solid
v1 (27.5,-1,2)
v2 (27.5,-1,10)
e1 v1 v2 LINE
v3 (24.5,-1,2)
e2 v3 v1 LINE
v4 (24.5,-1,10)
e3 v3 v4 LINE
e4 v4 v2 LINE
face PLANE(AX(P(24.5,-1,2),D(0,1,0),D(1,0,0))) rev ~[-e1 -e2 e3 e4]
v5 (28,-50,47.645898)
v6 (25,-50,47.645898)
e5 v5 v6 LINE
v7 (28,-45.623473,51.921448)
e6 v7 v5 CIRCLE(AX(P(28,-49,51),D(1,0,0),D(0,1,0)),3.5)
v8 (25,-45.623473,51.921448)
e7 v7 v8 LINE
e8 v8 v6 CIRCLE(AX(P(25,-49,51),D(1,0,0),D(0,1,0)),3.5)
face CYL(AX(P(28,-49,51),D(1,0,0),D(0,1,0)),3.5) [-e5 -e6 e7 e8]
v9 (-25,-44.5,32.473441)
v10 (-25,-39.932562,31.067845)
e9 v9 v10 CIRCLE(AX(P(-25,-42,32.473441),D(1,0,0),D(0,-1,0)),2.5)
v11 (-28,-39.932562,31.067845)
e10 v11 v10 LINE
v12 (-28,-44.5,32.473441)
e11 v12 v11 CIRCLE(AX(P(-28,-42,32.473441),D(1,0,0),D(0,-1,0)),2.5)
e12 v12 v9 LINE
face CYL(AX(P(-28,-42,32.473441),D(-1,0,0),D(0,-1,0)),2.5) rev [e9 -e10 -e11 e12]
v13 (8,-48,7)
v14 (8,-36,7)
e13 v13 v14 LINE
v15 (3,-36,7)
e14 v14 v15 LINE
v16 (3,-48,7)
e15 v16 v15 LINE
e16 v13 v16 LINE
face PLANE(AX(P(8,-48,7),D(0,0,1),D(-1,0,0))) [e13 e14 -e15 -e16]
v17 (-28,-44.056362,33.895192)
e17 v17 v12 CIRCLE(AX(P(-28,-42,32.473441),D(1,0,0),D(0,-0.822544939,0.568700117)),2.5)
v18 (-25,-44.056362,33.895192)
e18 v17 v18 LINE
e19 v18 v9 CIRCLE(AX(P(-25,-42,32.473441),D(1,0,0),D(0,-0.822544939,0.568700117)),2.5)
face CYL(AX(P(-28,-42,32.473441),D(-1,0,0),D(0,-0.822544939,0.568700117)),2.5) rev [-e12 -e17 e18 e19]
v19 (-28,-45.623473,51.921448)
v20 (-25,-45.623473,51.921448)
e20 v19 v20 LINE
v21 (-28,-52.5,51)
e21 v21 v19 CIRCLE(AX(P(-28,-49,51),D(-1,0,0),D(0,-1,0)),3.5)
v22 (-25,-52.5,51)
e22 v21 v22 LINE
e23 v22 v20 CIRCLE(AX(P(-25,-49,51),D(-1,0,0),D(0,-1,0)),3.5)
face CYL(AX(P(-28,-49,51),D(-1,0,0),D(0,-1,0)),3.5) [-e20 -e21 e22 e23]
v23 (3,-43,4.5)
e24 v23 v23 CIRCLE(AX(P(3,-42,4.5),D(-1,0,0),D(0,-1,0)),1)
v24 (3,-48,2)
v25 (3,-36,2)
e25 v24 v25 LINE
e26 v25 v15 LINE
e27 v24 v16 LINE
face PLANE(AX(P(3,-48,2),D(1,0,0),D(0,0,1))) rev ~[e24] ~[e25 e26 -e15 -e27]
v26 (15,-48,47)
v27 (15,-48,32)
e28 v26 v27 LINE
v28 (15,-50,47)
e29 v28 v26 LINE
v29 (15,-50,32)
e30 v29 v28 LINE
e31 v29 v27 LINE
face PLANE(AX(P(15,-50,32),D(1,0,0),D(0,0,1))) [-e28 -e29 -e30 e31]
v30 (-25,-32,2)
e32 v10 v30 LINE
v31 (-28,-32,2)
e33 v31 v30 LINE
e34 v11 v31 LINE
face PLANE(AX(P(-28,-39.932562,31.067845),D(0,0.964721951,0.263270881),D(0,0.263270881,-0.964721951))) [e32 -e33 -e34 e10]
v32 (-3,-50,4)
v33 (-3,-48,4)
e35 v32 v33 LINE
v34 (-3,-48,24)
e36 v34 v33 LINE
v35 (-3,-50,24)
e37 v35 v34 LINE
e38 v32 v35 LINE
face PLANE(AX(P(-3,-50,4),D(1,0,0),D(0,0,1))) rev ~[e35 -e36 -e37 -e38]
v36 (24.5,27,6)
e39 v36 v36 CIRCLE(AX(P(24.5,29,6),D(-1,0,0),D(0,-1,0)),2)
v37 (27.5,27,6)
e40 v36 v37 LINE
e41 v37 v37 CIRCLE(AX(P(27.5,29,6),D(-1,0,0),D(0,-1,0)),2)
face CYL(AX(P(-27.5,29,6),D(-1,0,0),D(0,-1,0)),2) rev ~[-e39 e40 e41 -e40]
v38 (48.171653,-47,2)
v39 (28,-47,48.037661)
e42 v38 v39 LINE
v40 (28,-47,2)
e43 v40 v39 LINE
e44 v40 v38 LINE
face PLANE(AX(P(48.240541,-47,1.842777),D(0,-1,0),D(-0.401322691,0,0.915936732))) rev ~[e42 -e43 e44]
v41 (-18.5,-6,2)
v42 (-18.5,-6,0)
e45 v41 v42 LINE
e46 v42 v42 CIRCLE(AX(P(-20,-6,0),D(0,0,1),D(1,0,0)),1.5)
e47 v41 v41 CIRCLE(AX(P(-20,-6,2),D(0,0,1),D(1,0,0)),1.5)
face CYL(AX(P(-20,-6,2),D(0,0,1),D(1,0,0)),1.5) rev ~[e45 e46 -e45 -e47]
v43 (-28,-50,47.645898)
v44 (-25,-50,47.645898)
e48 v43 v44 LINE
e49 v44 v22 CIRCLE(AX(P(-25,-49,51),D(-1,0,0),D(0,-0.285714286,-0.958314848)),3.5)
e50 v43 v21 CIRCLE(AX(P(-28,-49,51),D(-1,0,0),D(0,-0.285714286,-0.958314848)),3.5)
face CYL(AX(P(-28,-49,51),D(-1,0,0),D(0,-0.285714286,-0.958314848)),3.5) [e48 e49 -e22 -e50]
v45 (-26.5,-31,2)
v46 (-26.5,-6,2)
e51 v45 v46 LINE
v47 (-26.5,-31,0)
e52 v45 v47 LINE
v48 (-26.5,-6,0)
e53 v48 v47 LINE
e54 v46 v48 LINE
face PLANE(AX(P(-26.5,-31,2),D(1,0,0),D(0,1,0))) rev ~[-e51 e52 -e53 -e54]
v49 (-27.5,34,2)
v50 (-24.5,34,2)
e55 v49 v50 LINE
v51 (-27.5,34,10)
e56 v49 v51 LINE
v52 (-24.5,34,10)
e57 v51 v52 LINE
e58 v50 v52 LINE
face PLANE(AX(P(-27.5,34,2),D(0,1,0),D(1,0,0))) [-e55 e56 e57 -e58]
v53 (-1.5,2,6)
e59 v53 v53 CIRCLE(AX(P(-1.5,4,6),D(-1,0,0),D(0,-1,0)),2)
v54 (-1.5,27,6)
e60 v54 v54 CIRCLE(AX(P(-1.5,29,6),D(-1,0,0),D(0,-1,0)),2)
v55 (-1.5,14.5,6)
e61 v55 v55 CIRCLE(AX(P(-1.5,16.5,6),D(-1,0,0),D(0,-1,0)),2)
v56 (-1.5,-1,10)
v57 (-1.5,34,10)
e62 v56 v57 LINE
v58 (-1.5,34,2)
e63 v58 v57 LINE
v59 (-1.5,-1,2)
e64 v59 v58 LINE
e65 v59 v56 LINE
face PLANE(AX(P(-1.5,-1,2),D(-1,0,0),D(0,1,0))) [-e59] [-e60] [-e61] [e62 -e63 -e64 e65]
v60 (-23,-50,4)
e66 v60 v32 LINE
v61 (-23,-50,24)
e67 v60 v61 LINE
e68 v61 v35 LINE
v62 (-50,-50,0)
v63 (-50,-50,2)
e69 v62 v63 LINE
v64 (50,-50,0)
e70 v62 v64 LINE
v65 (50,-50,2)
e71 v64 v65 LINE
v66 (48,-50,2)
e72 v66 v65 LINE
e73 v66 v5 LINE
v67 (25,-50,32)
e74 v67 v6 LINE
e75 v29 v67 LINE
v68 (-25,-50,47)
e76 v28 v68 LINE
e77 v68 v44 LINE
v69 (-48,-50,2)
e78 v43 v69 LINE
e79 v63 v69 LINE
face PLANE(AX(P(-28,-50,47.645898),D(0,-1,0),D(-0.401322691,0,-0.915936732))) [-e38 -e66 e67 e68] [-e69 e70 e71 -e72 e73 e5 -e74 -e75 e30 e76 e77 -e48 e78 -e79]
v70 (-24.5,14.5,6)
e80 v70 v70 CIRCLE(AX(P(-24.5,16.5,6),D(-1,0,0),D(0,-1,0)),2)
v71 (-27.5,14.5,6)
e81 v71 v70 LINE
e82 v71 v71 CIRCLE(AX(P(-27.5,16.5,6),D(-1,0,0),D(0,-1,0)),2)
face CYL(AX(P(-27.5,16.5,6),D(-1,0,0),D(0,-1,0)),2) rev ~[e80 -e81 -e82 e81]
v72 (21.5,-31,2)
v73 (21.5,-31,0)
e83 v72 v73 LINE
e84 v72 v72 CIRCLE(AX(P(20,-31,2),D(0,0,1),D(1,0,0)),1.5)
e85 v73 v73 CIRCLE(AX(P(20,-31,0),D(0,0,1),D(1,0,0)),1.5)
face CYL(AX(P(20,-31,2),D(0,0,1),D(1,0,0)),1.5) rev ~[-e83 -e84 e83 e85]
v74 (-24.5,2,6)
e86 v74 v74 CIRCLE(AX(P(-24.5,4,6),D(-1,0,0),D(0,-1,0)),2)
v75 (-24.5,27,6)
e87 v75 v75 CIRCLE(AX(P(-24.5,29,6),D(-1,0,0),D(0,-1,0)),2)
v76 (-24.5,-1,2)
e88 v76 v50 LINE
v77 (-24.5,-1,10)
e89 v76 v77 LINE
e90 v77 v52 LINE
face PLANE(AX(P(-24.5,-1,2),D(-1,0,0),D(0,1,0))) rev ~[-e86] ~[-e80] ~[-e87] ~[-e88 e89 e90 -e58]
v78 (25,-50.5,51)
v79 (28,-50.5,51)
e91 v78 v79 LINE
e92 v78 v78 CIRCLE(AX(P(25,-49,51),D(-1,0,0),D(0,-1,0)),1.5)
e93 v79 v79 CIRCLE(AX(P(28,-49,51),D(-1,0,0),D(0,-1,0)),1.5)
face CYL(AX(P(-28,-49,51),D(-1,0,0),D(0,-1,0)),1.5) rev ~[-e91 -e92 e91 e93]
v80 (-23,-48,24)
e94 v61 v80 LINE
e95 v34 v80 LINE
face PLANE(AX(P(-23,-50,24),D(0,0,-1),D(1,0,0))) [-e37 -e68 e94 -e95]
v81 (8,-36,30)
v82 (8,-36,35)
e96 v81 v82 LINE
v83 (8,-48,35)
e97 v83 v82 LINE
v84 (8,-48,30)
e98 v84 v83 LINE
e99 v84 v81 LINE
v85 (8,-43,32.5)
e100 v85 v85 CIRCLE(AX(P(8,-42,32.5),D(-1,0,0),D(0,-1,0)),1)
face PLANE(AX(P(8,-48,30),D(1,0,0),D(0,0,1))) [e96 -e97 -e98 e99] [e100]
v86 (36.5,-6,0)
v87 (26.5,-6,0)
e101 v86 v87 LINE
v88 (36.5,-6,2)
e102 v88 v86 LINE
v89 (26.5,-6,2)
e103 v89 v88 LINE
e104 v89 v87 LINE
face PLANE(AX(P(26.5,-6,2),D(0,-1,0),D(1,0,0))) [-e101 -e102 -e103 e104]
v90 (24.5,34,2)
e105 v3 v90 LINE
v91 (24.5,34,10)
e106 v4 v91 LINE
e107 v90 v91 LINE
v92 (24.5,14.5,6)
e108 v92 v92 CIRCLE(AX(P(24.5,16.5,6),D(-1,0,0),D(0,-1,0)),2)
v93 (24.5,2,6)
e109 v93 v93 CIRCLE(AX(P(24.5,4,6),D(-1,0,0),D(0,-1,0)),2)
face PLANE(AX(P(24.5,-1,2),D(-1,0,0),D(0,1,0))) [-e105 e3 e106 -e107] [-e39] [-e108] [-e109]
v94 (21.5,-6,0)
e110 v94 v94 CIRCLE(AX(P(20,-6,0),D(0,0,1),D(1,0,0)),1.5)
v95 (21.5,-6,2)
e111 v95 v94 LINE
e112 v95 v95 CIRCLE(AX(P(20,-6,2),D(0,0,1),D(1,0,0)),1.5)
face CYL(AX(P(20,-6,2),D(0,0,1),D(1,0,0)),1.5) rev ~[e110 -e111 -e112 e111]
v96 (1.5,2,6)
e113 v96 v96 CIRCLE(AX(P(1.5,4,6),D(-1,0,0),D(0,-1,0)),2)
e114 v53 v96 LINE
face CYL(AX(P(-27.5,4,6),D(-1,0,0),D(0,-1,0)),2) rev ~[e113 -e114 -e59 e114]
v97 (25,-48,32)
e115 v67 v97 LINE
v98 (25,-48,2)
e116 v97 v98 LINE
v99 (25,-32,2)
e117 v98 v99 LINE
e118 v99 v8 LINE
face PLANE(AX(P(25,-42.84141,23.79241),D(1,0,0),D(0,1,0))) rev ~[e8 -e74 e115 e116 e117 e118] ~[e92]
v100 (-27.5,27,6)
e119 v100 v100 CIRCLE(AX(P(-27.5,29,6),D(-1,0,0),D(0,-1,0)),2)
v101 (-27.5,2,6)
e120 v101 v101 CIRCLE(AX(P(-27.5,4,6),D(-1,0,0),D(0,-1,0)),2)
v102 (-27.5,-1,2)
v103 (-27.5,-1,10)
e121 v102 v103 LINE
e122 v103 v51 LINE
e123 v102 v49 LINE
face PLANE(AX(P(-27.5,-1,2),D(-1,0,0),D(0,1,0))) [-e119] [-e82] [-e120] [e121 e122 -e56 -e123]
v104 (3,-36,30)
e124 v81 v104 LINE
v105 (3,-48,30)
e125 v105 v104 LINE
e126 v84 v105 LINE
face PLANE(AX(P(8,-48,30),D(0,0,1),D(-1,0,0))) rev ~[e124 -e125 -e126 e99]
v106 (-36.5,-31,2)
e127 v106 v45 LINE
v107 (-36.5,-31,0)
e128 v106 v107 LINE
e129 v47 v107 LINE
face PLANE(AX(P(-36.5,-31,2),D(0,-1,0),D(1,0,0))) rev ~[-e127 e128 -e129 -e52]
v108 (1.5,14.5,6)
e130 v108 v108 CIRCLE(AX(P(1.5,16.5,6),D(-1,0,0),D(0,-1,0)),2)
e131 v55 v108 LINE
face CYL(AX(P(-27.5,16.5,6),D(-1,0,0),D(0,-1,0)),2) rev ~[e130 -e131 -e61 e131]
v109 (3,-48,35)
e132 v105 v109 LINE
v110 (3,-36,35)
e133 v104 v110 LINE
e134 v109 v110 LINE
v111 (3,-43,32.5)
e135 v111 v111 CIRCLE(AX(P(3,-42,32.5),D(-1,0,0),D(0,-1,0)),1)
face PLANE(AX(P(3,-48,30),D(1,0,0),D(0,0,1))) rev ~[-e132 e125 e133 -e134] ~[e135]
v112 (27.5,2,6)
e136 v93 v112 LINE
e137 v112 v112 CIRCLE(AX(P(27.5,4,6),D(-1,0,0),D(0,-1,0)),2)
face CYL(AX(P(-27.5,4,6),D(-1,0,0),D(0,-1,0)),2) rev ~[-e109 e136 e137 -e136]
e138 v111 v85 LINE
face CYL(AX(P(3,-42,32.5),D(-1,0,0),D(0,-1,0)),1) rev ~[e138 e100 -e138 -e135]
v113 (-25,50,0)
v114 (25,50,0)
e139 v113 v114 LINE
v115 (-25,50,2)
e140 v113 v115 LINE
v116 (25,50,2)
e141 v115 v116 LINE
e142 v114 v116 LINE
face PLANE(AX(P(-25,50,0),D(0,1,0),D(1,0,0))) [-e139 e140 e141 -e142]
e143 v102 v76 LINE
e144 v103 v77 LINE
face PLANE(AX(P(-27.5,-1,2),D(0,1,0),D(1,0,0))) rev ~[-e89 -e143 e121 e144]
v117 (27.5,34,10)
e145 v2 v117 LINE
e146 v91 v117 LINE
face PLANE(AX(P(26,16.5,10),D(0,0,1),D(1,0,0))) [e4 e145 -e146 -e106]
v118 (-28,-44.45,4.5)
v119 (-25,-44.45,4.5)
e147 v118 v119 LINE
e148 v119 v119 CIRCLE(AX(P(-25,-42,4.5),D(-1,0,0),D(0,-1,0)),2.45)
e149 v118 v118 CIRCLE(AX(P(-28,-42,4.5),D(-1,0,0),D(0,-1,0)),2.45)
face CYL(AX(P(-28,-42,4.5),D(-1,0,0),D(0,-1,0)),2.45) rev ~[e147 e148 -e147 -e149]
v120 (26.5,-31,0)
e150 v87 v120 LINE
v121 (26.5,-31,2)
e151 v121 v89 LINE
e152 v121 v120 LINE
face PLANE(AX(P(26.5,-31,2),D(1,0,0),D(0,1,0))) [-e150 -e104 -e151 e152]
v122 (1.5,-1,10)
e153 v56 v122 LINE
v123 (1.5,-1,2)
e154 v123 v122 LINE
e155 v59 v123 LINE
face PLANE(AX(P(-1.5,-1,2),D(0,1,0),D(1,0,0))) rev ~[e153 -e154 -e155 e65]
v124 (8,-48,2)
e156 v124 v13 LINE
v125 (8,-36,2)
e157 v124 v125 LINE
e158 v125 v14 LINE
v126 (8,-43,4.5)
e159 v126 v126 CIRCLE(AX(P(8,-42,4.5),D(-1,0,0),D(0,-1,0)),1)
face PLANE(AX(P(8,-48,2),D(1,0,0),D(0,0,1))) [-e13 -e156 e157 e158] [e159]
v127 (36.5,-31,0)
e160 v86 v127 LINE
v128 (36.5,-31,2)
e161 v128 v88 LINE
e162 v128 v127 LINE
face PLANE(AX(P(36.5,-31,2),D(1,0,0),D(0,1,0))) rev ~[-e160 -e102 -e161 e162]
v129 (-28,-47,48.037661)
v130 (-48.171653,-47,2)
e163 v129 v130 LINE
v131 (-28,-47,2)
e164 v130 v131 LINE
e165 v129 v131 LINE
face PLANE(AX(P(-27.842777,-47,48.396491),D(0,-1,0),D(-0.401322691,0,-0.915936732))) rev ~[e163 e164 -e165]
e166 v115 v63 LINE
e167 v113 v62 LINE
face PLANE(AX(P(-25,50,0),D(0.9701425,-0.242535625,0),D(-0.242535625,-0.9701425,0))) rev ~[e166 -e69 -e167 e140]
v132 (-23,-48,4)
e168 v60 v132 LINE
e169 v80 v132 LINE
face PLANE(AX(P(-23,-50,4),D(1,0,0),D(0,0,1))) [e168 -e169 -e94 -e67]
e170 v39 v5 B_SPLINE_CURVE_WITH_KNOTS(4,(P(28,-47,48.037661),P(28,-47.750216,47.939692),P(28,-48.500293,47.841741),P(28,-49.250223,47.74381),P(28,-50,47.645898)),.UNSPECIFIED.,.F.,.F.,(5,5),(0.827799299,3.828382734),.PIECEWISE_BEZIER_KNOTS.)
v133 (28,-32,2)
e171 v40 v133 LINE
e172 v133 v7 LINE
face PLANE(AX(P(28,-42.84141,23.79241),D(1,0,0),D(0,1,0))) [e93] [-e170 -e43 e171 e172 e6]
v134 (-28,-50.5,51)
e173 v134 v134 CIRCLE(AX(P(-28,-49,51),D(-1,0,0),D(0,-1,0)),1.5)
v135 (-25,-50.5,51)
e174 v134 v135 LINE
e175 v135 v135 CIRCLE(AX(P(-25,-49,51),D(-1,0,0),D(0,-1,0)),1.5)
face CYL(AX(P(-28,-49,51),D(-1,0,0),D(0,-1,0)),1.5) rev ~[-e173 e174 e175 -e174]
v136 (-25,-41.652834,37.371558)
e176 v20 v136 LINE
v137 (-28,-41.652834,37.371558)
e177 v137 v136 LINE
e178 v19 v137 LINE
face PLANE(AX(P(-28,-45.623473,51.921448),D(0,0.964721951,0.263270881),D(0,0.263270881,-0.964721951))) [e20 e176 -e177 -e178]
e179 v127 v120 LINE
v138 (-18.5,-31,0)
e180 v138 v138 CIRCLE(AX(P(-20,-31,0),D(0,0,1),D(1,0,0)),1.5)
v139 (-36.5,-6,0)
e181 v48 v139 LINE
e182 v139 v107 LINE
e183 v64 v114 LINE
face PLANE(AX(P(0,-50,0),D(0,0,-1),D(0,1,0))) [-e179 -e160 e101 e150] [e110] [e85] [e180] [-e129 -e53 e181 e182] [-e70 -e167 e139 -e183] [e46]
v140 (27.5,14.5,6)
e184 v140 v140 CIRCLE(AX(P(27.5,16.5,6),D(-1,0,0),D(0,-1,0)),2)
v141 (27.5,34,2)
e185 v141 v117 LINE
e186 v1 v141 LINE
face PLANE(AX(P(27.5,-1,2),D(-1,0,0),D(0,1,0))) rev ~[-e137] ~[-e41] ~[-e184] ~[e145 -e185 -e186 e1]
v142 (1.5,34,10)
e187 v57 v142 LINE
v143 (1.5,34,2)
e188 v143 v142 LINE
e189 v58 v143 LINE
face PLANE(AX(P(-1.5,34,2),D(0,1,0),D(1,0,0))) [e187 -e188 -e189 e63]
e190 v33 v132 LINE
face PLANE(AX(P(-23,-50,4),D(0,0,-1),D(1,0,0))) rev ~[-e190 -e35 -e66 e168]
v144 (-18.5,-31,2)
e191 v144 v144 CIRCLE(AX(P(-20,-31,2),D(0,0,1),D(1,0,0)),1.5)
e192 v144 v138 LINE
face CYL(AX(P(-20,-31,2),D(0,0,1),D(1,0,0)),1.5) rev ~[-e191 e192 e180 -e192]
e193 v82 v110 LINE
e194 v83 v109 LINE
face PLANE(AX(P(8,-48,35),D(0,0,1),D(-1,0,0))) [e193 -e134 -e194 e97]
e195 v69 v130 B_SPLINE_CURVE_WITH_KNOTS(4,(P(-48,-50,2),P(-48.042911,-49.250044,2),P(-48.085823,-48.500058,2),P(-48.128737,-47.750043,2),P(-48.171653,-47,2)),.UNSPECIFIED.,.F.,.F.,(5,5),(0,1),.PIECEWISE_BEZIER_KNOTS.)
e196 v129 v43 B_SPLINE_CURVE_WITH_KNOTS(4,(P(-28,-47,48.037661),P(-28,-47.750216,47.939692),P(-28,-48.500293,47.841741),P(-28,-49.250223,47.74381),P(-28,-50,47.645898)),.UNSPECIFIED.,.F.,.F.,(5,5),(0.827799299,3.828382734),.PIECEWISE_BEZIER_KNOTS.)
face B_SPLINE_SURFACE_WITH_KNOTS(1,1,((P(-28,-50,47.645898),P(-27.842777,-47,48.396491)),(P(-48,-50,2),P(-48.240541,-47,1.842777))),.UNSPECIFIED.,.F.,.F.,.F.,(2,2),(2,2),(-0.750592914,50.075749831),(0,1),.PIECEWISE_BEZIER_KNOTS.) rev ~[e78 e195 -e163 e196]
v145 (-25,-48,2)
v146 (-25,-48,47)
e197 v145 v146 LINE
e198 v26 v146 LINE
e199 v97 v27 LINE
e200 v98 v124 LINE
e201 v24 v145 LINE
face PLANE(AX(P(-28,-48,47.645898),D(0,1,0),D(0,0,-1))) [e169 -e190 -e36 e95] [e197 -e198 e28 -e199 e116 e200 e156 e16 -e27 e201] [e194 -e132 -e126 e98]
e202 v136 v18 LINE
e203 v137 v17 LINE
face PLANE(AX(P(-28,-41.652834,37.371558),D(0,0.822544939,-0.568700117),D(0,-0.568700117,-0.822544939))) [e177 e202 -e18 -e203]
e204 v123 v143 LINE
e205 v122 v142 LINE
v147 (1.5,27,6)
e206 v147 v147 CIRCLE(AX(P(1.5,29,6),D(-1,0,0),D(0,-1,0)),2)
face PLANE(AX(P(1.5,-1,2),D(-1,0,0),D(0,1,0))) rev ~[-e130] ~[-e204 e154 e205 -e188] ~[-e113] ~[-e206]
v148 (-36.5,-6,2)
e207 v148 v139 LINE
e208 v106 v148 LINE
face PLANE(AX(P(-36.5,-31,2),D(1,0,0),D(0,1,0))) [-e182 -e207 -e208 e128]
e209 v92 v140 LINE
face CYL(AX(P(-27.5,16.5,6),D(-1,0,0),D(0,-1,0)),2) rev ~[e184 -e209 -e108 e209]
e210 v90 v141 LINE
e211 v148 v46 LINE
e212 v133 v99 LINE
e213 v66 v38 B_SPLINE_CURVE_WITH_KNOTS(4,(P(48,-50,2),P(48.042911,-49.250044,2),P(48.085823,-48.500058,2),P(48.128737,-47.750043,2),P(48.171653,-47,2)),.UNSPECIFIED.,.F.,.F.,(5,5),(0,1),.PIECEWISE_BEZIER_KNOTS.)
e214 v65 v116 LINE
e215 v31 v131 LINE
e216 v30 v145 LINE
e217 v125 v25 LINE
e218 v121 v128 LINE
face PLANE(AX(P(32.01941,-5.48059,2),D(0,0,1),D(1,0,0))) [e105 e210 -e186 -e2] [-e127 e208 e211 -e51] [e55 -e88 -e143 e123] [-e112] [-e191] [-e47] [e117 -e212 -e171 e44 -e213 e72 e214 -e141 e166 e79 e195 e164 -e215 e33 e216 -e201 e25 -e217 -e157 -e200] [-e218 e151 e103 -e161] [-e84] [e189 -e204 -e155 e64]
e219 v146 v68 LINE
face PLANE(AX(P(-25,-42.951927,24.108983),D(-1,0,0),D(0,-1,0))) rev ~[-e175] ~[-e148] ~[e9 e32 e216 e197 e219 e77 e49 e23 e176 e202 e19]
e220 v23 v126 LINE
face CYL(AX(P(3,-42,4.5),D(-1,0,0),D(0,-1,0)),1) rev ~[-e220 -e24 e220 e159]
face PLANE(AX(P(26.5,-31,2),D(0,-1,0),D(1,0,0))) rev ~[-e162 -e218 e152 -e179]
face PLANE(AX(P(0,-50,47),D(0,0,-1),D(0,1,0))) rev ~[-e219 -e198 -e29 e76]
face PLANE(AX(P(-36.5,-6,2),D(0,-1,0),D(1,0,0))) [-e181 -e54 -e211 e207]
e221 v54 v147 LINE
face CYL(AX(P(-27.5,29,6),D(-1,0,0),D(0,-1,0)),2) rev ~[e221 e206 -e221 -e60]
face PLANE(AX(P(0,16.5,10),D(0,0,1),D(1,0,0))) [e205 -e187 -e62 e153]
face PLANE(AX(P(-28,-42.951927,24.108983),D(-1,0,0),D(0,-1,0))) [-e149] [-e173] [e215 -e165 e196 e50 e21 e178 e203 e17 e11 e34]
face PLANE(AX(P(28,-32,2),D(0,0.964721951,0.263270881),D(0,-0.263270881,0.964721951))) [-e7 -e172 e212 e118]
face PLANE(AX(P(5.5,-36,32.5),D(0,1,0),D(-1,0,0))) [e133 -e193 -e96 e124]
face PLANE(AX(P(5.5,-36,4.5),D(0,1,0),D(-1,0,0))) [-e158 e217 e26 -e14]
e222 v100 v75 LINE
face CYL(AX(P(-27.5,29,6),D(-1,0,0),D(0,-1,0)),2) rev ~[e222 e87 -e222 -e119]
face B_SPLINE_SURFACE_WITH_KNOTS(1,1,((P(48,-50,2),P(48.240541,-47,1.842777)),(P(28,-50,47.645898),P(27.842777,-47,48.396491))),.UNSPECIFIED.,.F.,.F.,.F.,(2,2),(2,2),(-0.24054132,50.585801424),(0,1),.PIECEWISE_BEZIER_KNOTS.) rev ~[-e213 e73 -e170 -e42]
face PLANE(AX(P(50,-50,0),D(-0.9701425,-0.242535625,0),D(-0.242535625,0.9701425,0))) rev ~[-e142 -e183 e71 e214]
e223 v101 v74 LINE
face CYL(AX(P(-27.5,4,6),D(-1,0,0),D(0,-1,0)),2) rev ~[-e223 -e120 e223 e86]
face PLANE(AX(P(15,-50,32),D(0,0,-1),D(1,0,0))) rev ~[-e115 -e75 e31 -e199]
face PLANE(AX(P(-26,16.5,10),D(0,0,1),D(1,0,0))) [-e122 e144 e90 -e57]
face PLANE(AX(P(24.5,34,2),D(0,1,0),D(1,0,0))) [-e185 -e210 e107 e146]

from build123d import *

# Parameters (mm, degrees)
F0_W      = 50
F0_H      = 100
F1_DEPTH  = 2
F2_W      = 2
F2_H      = 47
F3_DEPTH  = 28
F5_DEPTH  = 3
F7_DEPTH  = 3
F8_R      = 1.5
F9_DEPTH  = 60
F10_W     = 5
F10_H     = 5
F11_DEPTH = 12
F12_R     = 1
F13_DEPTH = 25
F14_R     = 1
F15_DEPTH = 25
F16_W     = 10
F16_H     = 15
F16_W_2   = 20
F16_H_2   = 20
F17_DEPTH = 25
F18_R     = 1.5
F18_W     = 10
F18_H     = 25
F19_DEPTH = 25
F20_W     = 3
F20_H     = 35
F21_DEPTH = 8
F22_R     = 2
F23_DEPTH = 100
F25_DEPTH = 3
F25_TAPER = -3
F27_DEPTH = 3
F28_R     = 2.45
F29_DEPTH = 3


with BuildPart() as f1:
    # F0 (on Top) → F1 (new body)
    with BuildSketch(Plane.XY):
        Polygon((25, 50), (25, -50), (50, -50), align=None)
        Polygon((-50, -50), (-25, -50), (-25, 50), align=None)
        Rectangle(F0_W, F0_H)
    extrude(amount=F1_DEPTH)

    # F2 (on Right) → F3 (join, symmetric)
    with BuildSketch(Plane.YZ):
        with Locations((-49, 23.5)):
            Rectangle(F2_W, F2_H)
    extrude(amount=F3_DEPTH, both=True)

    # F4 (on face) → F5 (join)
    with BuildSketch(Plane.YZ.offset(28)):
        with BuildLine():
            ThreePointArc((-48, 47.6458980338), (-49, 47.5), (-50, 47.6458980338))
            Line((-50, 47.6458980338), (-50, 47))
            Line((-50, 47), (-48, 47))
            Line((-48, 47), (-48, 47.6458980338))
        make_face()
        with BuildLine():
            ThreePointArc((-48, 47.6458980338), (-46.1937569599, 48.9083499337), (-45.5, 51))
            ThreePointArc((-45.5, 51), (-51.0916500663, 53.8062430401), (-50, 47.6458980338))
            ThreePointArc((-50, 47.6458980338), (-49, 47.5), (-48, 47.6458980338))
        make_face()
    extrude(amount=-F5_DEPTH)

    # F6 (on face) → F7 (join)
    with BuildSketch(Plane(origin=(-28, 0, 0), x_dir=(0, -1, 0), z_dir=(-1, 0, 0))):
        with BuildLine():
            ThreePointArc((50, 47.6458980338), (49, 47.5), (48, 47.6458980338))
            Line((48, 47.6458980338), (48, 47))
            Line((48, 47), (50, 47))
            Line((50, 47), (50, 47.6458980338))
        make_face()
        with BuildLine():
            ThreePointArc((50, 47.6458980338), (51.8062430401, 48.9083499337), (52.5, 51))
            ThreePointArc((52.5, 51), (46.9083499337, 53.8062430401), (48, 47.6458980338))
            ThreePointArc((48, 47.6458980338), (49, 47.5), (50, 47.6458980338))
        make_face()
    extrude(amount=-F7_DEPTH)

    # F8 (on face) → F9 (cut)
    with BuildSketch(Plane(origin=(-28, 0, 0), x_dir=(0, -1, 0), z_dir=(-1, 0, 0))):
        with Locations((49, 51)):
            Circle(F8_R)
    extrude(amount=-F9_DEPTH, mode=Mode.SUBTRACT)

    # F10 (on face) → F11 (join)
    with BuildSketch(Plane(origin=(0, -48, 0), x_dir=(-1, 0, 0), z_dir=(0, 1, 0))):
        with Locations((-5.5, 32.5)):
            Rectangle(F10_W, F10_H)
        with Locations((-5.5, 4.5)):
            Rectangle(F10_W, F10_H)
    extrude(amount=F11_DEPTH)

    # F12 (on face) → F13 (cut)
    with BuildSketch(Plane(origin=(3, 0, 0), x_dir=(0, -1, 0), z_dir=(-1, 0, 0))):
        with Locations((42, 4.5)):
            Circle(F12_R)
    extrude(amount=-F13_DEPTH, mode=Mode.SUBTRACT)

    # F14 (on face) → F15 (cut)
    with BuildSketch(Plane(origin=(3, 0, 0), x_dir=(0, -1, 0), z_dir=(-1, 0, 0))):
        with Locations((42, 32.5)):
            Circle(F14_R)
    extrude(amount=-F15_DEPTH, mode=Mode.SUBTRACT)

    # F16 (on face) → F17 (cut)
    with BuildSketch(Plane.XZ.offset(50)):
        with Locations((20, 39.5)):
            Rectangle(F16_W, F16_H)
        with Locations((-13, 14)):
            Rectangle(F16_W_2, F16_H_2)
    extrude(amount=-F17_DEPTH, mode=Mode.SUBTRACT)

    # F18 (on face) → F19 (cut)
    with BuildSketch(Plane.XY.offset(2)):
        with Locations((-20, -31)):
            Circle(F18_R)
        with Locations((-20, -6)):
            Circle(F18_R)
        with Locations((20, -31)):
            Circle(F18_R)
        with Locations((20, -6)):
            Circle(F18_R)
        with Locations((-31.5, -18.5)):
            Rectangle(F18_W, F18_H)
        with Locations((31.5, -18.5)):
            Rectangle(F18_W, F18_H)
    extrude(amount=-F19_DEPTH, mode=Mode.SUBTRACT)

    # F20 (on face) → F21 (join)
    with BuildSketch(Plane.XY.offset(2)):
        with Locations((-26, 16.5)):
            Rectangle(F20_W, F20_H)
        with Locations((0, 16.5)):
            Rectangle(F20_W, F20_H)
        with Locations((26, 16.5)):
            Rectangle(F20_W, F20_H)
    extrude(amount=F21_DEPTH)

    # F22 (on face) → F23 (cut)
    with BuildSketch(Plane(origin=(-27.5, 0, 0), x_dir=(0, -1, 0), z_dir=(-1, 0, 0))):
        with Locations((-29, 6)):
            Circle(F22_R)
        with Locations((-16.5, 6)):
            Circle(F22_R)
        with Locations((-4, 6)):
            Circle(F22_R)
    extrude(amount=-F23_DEPTH, mode=Mode.SUBTRACT)



with BuildPart() as f25:
    # F24 (on face) → F25 (new body)
    with BuildSketch(Plane.XZ.offset(50)):
        Polygon((48, 2), (28, 47.6458980338), (28, 2), align=None)
    extrude(amount=-F25_DEPTH, taper=F25_TAPER)


with BuildPart() as f25b:
    # F24 (on face) → F25, piece 2 (new body)
    with BuildSketch(Plane.XZ.offset(50)):
        Polygon((-28, 47.6458980338), (-48, 2), (-28, 2), align=None)
    extrude(amount=-F25_DEPTH, taper=F25_TAPER)


with BuildPart() as f1_1:
    add(f1.part)

    add(f25.part)  # F27 merges F25
    # F26 (on face) → F27 (join)
    with BuildSketch(Plane.YZ.offset(28)):
        with BuildLine():
            Line((-48, 2), (-32, 2))
            Line((-32, 2), (-45.6234731707, 51.9214480836))
            ThreePointArc((-45.6234731707, 51.9214480836), (-45.9408205628, 49.29958206), (-48, 47.6458980338))
            Line((-48, 47.6458980338), (-48, 2))
        make_face()
    extrude(amount=-F27_DEPTH)


    add(f25b.part)  # F29 merges F25b
    # F28 (on face) → F29 (join)
    with BuildSketch(Plane(origin=(-28, 0, 0), x_dir=(0, -1, 0), z_dir=(-1, 0, 0))):
        with BuildLine():
            Line((45.6234731707, 51.9214480836), (41.6528343038, 37.371557643))
            Line((41.6528343038, 37.371557643), (44.0563623479, 33.8951915058))
            ThreePointArc((44.0563623479, 33.8951915058), (44.3865148093, 33.2181203826), (44.5, 32.4734412134))
            ThreePointArc((44.5, 32.4734412134), (42.7353250903, 30.0840276846), (39.9325623907, 31.0678446383))
            Line((39.9325623907, 31.0678446383), (32, 2))
            Line((32, 2), (48, 2))
            Line((48, 2), (48, 47.6458980338))
            ThreePointArc((48, 47.6458980338), (45.9408205628, 49.29958206), (45.6234731707, 51.9214480836))
        make_face()
        with Locations((42, 4.5)):
            Circle(F28_R, mode=Mode.SUBTRACT)
    extrude(amount=-F29_DEPTH)


solid = f1_1.part
